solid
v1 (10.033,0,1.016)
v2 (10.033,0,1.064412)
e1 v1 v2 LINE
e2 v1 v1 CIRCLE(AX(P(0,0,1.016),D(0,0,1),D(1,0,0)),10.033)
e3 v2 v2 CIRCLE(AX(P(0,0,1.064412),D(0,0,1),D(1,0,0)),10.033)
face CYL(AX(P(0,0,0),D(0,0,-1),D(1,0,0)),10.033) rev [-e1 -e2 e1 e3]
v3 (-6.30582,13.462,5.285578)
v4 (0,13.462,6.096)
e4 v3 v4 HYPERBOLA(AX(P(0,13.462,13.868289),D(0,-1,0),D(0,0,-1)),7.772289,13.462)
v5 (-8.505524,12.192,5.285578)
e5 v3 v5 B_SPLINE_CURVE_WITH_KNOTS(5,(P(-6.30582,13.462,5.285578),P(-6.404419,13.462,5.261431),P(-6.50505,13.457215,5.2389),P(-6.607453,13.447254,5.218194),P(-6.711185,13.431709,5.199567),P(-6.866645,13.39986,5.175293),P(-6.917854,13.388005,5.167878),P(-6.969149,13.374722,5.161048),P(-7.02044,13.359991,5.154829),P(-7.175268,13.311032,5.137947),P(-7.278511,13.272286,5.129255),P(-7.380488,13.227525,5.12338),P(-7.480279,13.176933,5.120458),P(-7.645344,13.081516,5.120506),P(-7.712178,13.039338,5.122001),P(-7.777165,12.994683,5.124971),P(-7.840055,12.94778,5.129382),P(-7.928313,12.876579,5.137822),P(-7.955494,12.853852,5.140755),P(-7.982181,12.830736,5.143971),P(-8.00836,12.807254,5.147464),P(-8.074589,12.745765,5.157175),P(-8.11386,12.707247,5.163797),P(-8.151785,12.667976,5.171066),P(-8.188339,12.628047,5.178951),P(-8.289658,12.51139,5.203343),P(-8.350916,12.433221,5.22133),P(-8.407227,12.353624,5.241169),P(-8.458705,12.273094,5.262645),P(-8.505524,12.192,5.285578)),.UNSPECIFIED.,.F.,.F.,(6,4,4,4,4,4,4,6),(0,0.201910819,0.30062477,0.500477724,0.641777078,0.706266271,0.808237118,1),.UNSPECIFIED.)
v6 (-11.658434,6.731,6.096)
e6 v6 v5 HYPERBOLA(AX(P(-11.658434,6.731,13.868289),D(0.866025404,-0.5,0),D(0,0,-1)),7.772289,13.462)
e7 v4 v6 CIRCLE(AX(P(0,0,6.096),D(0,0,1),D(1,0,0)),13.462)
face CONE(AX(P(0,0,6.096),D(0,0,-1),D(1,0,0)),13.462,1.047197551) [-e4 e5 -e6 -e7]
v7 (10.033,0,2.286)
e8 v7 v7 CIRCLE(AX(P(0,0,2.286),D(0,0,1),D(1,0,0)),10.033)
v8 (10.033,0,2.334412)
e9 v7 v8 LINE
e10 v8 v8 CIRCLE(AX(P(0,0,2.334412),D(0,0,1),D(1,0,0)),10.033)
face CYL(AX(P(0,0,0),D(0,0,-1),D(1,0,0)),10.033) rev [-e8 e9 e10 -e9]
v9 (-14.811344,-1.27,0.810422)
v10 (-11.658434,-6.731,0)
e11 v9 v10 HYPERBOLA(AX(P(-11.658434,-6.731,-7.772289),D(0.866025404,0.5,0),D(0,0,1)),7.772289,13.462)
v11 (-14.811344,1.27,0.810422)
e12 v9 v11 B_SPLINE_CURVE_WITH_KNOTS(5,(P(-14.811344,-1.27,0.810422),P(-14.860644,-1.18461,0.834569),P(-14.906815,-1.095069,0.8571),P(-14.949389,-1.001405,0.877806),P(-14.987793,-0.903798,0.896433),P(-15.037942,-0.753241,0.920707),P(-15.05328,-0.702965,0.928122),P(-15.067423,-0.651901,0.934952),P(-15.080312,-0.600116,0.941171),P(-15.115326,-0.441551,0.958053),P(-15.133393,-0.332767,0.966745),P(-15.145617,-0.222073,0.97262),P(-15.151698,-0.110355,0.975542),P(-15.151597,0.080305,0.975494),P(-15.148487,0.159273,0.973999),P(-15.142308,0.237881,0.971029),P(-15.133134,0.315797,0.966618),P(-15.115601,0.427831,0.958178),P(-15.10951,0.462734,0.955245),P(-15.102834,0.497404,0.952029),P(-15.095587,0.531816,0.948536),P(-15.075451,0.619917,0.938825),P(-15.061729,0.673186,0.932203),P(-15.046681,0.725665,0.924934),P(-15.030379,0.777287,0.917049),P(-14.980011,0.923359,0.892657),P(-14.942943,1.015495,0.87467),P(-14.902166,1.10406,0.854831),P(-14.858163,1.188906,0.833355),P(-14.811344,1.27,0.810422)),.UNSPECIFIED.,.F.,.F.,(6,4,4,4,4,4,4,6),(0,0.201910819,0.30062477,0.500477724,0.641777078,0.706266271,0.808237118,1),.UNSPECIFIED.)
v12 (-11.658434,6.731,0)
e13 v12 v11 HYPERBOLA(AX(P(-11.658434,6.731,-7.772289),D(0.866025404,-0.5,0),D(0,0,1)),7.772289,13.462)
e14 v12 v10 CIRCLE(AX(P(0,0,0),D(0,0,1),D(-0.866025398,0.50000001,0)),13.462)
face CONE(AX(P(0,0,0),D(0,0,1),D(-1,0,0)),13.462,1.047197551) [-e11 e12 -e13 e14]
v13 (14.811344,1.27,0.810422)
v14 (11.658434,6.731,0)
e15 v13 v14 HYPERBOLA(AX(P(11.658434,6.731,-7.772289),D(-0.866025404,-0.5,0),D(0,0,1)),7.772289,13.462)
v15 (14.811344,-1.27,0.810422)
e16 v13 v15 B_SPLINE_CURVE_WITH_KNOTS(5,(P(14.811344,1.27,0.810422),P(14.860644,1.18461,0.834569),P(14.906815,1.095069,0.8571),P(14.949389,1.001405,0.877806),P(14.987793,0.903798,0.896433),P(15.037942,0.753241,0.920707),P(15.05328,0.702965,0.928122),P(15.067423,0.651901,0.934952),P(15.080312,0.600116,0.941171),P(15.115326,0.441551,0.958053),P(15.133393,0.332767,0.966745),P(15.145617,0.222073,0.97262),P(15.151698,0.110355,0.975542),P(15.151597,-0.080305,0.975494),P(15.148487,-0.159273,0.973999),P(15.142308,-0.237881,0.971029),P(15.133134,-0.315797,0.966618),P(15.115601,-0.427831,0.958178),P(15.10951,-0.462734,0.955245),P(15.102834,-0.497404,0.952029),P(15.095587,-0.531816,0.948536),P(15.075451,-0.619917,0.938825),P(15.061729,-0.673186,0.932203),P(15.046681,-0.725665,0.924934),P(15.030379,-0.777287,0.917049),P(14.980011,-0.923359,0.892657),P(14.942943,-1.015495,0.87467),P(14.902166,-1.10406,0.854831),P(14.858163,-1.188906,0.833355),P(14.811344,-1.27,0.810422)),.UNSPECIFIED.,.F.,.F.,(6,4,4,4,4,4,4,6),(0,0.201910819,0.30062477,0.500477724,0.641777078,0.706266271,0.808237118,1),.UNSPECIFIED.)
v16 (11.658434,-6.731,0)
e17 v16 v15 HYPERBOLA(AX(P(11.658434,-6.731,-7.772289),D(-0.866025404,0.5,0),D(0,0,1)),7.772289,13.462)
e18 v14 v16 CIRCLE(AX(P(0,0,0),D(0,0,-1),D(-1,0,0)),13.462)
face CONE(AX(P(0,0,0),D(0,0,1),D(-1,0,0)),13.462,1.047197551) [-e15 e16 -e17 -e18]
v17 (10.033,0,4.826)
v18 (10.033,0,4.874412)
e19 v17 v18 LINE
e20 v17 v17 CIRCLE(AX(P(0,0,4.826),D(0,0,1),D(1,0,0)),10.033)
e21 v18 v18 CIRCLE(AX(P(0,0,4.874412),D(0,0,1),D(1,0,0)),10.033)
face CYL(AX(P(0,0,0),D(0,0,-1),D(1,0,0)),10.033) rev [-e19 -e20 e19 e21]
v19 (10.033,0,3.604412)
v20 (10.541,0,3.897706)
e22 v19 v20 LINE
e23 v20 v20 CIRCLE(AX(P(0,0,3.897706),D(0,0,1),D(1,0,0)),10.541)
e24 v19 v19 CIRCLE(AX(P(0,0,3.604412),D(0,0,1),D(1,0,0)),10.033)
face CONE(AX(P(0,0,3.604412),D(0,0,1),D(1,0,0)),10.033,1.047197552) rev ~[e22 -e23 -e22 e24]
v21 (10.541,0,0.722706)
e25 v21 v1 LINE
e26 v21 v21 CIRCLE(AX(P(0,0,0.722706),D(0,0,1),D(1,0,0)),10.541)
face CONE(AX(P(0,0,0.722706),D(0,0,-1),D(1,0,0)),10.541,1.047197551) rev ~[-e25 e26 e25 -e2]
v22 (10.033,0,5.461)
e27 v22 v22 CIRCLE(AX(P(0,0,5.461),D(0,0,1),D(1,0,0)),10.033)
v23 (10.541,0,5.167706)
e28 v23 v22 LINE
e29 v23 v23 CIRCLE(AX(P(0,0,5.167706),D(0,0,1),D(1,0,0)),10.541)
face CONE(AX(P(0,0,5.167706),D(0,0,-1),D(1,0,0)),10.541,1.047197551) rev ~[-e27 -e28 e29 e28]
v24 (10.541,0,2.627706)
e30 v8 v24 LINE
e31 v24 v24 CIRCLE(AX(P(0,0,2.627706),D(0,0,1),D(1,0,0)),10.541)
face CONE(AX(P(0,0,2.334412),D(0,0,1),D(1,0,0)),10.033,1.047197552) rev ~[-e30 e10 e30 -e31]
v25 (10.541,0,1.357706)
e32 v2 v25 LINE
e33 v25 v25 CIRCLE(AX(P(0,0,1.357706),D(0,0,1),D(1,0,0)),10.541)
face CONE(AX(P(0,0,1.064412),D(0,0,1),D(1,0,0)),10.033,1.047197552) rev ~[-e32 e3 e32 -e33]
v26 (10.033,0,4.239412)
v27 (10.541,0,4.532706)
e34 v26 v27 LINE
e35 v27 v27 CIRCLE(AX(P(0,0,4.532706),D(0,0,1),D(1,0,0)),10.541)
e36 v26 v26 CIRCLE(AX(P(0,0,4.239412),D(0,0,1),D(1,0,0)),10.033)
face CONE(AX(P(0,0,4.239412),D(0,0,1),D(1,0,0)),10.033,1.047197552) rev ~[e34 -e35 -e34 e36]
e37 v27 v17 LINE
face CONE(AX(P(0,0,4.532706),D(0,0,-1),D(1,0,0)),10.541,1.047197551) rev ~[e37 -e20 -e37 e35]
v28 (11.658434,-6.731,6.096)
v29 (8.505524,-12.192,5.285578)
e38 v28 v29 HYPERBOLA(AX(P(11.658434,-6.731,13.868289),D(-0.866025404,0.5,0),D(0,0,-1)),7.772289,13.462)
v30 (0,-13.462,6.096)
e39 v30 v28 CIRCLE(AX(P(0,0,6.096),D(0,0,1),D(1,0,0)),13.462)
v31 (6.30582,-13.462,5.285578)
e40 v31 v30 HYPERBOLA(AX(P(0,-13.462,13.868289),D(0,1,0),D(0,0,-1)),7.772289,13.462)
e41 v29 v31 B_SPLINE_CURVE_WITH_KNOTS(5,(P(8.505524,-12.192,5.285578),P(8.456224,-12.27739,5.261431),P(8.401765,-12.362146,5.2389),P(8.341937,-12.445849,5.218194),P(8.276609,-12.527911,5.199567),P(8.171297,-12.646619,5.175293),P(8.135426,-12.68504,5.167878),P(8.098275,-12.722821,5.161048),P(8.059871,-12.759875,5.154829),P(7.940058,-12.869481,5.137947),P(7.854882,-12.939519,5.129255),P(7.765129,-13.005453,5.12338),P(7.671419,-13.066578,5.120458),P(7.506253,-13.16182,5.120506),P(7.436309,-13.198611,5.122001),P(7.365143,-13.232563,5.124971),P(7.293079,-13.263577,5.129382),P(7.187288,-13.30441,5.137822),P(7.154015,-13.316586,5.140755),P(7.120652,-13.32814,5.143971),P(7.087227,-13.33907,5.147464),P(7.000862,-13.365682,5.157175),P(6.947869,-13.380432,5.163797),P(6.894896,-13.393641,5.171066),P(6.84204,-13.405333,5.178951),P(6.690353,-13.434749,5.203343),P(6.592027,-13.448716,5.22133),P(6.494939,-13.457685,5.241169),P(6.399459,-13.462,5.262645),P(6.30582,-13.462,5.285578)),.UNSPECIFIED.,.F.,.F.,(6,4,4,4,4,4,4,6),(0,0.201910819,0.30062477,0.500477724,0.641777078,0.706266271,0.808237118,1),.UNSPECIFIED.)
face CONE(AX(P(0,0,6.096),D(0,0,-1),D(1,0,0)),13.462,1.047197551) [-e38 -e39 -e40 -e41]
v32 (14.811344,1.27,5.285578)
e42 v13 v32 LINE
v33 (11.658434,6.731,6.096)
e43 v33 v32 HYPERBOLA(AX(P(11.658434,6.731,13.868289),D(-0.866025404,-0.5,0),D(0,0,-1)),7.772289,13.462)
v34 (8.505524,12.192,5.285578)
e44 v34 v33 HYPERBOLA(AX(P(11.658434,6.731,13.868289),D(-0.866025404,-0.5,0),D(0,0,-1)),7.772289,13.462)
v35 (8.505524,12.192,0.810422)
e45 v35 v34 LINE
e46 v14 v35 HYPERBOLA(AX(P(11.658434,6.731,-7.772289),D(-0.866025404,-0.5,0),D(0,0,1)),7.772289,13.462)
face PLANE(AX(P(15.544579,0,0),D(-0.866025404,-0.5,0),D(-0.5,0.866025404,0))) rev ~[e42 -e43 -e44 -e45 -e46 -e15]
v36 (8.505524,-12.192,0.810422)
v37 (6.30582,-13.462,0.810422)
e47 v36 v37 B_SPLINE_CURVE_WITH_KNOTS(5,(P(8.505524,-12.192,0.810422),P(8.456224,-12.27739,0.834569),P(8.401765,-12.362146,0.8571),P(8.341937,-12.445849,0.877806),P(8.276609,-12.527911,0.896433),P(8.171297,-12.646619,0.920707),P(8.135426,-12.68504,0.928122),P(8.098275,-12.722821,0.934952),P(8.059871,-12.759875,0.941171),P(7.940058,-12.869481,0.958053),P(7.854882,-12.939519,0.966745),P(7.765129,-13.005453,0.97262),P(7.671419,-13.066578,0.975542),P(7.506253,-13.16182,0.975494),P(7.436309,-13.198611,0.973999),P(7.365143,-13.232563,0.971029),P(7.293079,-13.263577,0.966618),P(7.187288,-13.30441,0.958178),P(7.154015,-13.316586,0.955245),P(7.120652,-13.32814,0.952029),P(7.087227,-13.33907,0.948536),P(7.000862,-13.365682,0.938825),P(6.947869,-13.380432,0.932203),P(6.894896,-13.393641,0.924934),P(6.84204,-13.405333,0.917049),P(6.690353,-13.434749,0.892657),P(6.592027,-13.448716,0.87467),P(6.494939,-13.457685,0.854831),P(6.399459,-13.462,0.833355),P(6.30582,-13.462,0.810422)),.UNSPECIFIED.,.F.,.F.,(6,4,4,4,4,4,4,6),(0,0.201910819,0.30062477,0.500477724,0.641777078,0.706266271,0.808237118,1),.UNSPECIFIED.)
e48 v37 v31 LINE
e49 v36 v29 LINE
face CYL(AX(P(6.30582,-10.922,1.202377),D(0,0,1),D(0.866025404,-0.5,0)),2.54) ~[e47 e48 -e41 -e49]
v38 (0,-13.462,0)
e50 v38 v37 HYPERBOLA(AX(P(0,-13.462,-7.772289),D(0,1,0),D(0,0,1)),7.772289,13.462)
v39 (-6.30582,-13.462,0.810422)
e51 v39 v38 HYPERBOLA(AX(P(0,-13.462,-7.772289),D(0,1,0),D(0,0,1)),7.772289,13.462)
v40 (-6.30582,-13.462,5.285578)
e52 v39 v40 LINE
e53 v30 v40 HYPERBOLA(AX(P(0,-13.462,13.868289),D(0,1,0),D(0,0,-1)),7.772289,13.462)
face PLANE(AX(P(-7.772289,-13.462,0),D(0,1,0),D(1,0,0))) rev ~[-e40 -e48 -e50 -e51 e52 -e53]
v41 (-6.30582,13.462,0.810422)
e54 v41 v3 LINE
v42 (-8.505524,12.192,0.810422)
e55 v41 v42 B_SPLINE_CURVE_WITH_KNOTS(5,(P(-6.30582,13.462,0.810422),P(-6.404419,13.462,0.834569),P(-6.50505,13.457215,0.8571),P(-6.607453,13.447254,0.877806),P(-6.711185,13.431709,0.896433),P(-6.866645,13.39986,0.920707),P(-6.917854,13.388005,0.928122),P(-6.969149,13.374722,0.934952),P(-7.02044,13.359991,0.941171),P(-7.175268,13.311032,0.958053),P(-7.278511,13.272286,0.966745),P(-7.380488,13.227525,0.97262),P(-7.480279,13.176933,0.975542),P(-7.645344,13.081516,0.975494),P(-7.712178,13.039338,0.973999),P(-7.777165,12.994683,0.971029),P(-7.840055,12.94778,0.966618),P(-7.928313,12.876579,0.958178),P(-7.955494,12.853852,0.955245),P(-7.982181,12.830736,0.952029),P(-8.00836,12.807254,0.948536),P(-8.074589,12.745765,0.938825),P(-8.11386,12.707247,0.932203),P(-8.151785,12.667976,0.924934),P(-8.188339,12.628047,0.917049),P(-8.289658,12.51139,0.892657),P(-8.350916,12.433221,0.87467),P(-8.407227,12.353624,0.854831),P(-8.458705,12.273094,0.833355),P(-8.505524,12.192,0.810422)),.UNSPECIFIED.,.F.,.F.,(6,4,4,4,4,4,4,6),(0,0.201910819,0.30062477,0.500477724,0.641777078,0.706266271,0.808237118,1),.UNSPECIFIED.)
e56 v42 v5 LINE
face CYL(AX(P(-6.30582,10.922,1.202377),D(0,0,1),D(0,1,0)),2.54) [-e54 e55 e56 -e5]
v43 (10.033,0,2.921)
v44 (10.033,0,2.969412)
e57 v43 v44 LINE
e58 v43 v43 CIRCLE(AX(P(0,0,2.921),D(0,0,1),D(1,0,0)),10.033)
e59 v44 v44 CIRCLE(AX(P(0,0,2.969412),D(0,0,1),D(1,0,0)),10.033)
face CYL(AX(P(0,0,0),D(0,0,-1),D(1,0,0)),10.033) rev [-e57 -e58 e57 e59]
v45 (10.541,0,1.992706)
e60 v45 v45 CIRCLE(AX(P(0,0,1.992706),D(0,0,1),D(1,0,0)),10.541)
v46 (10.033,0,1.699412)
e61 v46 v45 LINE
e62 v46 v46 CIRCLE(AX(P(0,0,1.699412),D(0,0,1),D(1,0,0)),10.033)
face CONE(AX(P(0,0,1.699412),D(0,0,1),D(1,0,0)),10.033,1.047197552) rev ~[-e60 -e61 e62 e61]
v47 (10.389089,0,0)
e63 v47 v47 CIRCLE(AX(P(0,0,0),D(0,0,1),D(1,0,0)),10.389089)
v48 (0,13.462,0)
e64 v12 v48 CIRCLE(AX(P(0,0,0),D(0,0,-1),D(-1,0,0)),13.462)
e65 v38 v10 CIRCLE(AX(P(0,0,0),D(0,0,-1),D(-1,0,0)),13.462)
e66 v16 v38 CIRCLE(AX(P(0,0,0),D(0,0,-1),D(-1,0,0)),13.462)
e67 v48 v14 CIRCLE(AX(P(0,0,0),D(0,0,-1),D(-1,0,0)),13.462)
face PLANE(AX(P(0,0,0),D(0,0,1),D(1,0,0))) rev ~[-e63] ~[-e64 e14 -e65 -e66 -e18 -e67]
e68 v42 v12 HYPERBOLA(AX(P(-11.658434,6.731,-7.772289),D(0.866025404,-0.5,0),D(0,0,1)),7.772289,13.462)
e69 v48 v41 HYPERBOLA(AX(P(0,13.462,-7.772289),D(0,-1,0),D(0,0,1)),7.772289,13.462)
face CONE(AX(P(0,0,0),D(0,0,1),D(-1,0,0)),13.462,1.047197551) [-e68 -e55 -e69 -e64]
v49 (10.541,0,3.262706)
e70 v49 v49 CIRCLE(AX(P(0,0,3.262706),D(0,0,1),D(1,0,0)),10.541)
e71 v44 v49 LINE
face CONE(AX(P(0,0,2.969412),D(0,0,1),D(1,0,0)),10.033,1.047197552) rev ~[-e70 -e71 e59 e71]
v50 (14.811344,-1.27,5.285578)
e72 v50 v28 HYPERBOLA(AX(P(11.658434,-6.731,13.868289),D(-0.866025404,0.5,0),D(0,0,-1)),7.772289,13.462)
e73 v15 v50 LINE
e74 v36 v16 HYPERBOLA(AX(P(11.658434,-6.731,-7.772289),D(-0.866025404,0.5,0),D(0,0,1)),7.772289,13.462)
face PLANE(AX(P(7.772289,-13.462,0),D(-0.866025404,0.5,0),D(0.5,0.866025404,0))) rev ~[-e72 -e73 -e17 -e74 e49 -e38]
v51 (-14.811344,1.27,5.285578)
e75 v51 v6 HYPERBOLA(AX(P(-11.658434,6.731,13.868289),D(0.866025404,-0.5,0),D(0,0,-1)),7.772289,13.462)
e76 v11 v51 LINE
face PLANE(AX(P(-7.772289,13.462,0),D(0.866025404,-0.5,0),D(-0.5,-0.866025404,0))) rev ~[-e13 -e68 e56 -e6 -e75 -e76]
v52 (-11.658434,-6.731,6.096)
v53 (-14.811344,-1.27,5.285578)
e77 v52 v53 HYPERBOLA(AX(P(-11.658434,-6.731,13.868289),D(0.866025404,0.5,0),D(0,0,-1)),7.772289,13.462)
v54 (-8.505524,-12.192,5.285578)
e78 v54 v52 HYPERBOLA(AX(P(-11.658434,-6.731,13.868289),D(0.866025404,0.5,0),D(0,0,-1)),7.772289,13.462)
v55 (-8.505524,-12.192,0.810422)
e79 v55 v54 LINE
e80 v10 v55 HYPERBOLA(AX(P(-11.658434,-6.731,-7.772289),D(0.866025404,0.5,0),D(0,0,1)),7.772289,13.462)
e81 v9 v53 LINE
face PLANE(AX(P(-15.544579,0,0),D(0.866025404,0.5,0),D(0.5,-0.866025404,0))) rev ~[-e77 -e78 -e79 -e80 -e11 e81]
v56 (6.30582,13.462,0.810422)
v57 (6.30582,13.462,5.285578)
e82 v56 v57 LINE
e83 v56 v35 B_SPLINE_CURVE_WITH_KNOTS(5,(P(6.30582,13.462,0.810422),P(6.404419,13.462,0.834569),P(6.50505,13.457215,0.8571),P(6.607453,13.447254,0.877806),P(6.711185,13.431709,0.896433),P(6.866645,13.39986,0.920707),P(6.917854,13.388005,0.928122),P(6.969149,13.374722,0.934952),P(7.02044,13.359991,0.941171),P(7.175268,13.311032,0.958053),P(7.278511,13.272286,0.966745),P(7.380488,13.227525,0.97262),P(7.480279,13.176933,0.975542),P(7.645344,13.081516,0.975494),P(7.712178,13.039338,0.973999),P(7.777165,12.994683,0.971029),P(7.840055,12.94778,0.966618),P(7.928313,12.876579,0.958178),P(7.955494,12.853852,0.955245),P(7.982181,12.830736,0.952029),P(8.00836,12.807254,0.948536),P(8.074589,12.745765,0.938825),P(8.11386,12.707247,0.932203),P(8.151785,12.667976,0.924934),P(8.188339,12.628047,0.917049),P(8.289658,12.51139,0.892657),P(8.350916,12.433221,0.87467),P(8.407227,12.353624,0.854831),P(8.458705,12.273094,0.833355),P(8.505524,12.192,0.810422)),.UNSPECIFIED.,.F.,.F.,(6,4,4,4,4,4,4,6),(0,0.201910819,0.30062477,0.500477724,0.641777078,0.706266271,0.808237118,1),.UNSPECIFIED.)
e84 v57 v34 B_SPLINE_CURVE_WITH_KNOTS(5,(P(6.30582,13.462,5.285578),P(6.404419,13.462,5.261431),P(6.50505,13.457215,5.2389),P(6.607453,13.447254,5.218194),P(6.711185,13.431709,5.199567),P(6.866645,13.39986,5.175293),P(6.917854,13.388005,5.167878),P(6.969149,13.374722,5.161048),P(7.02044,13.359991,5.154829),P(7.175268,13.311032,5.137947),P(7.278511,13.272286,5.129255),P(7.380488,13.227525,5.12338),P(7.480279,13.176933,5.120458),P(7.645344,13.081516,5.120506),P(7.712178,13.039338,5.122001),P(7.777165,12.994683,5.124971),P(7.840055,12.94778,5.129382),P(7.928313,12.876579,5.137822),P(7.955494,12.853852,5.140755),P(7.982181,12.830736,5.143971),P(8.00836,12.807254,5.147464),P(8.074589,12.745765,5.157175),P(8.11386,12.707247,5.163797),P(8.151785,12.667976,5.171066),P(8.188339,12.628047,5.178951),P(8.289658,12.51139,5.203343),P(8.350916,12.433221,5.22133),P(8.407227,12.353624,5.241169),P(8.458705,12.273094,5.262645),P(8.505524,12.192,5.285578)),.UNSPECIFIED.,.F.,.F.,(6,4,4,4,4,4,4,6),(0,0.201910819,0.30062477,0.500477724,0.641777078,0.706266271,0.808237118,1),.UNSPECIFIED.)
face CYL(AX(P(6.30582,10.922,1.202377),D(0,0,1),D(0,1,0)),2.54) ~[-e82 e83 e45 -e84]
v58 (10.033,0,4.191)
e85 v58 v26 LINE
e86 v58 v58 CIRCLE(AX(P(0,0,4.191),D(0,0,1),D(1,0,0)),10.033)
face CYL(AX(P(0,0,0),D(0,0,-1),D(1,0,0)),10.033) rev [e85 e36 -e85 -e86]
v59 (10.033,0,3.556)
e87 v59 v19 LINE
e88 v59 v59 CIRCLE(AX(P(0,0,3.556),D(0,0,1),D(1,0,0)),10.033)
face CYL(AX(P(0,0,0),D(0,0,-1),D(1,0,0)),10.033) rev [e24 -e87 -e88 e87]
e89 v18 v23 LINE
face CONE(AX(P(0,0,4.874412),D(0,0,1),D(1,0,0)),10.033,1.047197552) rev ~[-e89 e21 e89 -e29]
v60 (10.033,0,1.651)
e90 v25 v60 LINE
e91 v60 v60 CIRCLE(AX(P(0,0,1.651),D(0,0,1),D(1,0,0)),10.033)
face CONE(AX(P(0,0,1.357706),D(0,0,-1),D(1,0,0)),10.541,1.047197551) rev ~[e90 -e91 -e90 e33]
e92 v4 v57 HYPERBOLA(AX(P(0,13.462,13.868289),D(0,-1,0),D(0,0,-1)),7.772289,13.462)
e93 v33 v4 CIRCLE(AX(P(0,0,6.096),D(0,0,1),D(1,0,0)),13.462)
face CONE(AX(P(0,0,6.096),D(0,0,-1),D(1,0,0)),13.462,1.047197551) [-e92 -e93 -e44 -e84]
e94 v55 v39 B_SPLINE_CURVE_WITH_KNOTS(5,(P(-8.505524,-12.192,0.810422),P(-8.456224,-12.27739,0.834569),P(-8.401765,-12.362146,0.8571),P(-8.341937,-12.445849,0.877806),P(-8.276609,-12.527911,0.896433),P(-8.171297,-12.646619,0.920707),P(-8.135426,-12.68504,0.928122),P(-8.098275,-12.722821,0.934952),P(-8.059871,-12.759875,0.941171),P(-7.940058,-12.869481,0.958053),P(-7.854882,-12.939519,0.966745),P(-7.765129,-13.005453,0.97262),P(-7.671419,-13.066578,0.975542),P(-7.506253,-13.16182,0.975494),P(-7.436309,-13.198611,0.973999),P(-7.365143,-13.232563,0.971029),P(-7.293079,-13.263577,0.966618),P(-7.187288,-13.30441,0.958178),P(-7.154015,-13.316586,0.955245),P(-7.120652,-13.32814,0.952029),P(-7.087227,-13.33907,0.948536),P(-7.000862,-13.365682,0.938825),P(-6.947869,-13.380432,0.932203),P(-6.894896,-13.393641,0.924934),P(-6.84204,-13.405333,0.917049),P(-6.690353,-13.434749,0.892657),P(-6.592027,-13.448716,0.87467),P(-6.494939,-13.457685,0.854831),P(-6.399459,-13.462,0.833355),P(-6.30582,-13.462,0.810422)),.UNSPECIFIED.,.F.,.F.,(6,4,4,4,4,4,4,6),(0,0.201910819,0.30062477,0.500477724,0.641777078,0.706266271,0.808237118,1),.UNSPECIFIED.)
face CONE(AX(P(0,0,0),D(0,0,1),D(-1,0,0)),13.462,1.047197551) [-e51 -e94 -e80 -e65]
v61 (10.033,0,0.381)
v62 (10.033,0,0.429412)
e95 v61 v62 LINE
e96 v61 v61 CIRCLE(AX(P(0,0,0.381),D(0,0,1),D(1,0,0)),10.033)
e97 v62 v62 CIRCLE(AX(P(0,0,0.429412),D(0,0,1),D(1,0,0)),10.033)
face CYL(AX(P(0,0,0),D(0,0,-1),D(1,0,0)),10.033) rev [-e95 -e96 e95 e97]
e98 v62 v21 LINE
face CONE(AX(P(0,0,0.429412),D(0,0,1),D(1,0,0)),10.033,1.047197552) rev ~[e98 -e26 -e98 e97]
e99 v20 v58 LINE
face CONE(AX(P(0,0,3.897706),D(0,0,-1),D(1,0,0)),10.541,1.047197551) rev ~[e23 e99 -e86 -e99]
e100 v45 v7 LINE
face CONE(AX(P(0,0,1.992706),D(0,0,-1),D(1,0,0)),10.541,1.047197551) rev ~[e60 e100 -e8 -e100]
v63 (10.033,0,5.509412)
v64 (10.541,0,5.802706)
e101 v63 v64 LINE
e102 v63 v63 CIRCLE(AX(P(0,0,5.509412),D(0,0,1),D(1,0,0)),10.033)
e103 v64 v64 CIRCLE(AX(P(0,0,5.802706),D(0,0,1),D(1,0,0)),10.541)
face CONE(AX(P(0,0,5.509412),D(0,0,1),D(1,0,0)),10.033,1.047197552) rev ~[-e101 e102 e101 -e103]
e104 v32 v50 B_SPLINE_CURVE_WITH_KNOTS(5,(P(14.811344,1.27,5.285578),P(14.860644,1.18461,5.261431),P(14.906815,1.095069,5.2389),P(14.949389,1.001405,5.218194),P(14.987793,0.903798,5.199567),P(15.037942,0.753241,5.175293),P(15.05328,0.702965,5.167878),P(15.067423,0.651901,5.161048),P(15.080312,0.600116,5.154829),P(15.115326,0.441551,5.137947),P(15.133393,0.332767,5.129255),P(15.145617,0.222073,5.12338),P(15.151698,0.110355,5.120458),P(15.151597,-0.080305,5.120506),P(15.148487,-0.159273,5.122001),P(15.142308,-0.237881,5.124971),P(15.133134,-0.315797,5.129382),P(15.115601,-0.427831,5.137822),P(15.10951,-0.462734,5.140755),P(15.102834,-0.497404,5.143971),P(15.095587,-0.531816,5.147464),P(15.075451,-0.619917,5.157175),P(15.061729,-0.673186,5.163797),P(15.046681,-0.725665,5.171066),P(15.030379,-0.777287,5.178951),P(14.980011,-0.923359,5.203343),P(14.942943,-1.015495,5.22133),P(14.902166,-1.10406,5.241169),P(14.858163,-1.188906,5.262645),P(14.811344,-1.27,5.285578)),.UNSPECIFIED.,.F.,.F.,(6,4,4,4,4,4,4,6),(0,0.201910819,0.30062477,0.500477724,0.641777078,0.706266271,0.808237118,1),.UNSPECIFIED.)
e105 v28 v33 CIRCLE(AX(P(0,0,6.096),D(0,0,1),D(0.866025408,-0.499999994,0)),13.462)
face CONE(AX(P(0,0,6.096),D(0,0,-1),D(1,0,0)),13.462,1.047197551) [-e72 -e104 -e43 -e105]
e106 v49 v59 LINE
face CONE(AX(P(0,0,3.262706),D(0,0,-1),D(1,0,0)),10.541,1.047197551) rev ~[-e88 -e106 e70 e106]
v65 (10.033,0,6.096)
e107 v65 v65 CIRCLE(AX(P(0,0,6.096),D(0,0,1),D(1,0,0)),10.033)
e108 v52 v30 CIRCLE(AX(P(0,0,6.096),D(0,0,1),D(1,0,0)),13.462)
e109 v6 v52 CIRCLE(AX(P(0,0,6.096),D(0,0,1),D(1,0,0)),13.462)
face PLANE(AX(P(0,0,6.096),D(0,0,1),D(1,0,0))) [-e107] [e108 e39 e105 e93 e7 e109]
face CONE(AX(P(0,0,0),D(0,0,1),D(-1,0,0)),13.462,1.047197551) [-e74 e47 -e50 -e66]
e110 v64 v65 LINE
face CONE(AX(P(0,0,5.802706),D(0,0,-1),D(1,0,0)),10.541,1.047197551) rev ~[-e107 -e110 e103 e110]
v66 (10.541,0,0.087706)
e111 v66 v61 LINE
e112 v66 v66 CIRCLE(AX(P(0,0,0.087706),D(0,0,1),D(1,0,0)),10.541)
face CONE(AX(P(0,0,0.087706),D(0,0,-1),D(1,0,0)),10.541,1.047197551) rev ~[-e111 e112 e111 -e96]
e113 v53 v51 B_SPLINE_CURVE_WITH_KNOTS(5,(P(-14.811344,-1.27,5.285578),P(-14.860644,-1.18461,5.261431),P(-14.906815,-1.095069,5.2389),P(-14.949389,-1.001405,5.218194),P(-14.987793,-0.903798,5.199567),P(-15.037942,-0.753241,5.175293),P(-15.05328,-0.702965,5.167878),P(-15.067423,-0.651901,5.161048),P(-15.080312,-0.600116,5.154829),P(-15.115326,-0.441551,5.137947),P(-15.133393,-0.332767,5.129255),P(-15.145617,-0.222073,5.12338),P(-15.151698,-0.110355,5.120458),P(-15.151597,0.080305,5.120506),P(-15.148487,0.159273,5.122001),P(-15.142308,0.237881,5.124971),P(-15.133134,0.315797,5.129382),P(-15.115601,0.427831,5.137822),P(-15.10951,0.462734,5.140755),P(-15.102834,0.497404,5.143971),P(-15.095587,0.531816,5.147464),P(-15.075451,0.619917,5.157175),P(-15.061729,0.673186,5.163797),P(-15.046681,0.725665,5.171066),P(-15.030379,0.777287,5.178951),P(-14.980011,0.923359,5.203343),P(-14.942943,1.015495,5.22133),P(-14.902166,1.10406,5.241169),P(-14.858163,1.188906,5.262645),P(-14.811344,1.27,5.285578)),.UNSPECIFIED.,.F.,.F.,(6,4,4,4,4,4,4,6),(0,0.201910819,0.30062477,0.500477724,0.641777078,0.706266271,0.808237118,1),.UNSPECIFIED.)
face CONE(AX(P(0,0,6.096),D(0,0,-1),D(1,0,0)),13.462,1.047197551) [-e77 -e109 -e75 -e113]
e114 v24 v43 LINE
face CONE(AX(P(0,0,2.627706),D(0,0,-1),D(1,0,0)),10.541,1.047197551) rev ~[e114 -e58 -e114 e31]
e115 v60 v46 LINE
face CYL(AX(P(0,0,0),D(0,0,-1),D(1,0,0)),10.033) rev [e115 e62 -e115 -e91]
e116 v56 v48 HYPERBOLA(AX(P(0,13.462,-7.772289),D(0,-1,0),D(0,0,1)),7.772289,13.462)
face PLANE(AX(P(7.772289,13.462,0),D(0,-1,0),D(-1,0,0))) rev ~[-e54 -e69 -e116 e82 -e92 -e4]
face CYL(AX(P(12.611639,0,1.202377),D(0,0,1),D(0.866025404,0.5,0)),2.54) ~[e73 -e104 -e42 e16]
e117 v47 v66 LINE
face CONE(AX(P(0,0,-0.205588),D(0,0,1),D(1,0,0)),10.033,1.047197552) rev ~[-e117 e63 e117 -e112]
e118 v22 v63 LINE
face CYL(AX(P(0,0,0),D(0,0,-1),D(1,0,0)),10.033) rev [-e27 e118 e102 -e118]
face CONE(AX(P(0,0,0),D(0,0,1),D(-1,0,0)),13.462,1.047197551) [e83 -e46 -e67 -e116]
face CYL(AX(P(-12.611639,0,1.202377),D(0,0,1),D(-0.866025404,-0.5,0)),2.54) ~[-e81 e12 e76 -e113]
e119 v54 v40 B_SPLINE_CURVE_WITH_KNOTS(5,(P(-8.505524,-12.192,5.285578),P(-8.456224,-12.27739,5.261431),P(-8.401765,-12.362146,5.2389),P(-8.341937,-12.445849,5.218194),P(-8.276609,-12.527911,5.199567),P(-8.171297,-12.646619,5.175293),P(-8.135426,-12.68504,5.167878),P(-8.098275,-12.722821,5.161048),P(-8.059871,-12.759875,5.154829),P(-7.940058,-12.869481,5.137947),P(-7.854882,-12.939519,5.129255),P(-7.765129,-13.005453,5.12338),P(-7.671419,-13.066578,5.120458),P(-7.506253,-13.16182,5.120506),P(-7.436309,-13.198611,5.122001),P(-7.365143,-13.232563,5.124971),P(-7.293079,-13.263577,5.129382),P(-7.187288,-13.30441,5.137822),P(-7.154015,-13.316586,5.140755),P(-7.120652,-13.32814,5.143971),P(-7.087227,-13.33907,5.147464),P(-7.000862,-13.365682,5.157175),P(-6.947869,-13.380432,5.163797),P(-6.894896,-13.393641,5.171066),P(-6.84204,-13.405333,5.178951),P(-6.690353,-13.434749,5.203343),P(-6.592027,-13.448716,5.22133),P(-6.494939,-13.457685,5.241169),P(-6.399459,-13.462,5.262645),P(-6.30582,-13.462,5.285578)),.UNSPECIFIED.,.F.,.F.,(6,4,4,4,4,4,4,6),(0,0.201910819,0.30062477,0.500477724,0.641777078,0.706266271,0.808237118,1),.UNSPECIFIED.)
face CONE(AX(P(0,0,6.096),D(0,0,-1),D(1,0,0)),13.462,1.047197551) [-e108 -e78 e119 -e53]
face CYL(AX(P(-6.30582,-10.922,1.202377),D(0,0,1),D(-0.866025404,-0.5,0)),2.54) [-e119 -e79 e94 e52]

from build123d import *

# Parameters (mm, degrees)
SKETCH1_R          = 10.033
EXTRUDE1_DEPTH     = 6.096
SKETCH2_OUTSIDE_W  = 65.986
SKETCH2_OUTSIDE_H  = 61.82
SKETCH2_OUTSIDE_R  = 13.462
CUT_EXTRUDE1_DEPTH = 7.096
CUT_EXTRUDE1_DRAFT = -60
SKETCH3_OUTSIDE_W  = 65.986
SKETCH3_OUTSIDE_H  = 61.82
SKETCH3_OUTSIDE_R  = 13.462
CUT_EXTRUDE2_DEPTH = 7.096
CUT_EXTRUDE2_DRAFT = -60
FILLET1_R          = 2.54
LPATTERN1_COUNT    = 10
LPATTERN1_PITCH    = 0.635


with BuildPart() as part:
    # Sketch1 → Extrude1 (new body)
    with BuildSketch(Plane.XY):
        Polygon((-15.544578648, 0), (-7.772289324, -13.462), (7.772289324, -13.462), (15.544578648, 0), (7.772289324, 13.462), (-7.772289324, 13.462), align=None)
        Circle(SKETCH1_R, mode=Mode.SUBTRACT)
    extrude(amount=EXTRUDE1_DEPTH)


with BuildPart() as cut_extrude1_tool:
    # Sketch2 outside → Cut-Extrude1 (with draft: the straight prism first)
    with BuildSketch(Plane.XY.offset(6.096)):
        Rectangle(SKETCH2_OUTSIDE_W, SKETCH2_OUTSIDE_H)
        Circle(SKETCH2_OUTSIDE_R, mode=Mode.SUBTRACT)
    extrude(amount=-CUT_EXTRUDE1_DEPTH)
    # Cut-Extrude1: the draft: its side faces are tilted about the plane it starts from
    cut_extrude1_sides = [cut_extrude1_tool.faces().sort_by_distance(p)[0] for p in [
        (0, -30.91, 2.548),
        (32.993, 0, 2.548),
        (0, 30.91, 2.548),
        (-32.993, 0, 2.548),
        (-13.462, 0, 2.548),
    ]]
    draft(cut_extrude1_sides, Plane.XY.offset(6.096), CUT_EXTRUDE1_DRAFT)


with BuildPart() as part_1:
    add(part.part)

    # Cut-Extrude1: cut by cut_extrude1_tool
    add(cut_extrude1_tool.part, mode=Mode.SUBTRACT)


with BuildPart() as cut_extrude2_tool:
    # Sketch3 outside → Cut-Extrude2 (with draft: the straight prism first)
    with BuildSketch(Plane(origin=(0, 0, 0), x_dir=(-1, 0, 0), z_dir=(0, 0, -1))):
        Rectangle(SKETCH3_OUTSIDE_W, SKETCH3_OUTSIDE_H)
        Circle(SKETCH3_OUTSIDE_R, mode=Mode.SUBTRACT)
    extrude(amount=-CUT_EXTRUDE2_DEPTH)
    # Cut-Extrude2: the draft: its side faces are tilted about the plane it starts from
    cut_extrude2_sides = [cut_extrude2_tool.faces().sort_by_distance(p)[0] for p in [
        (0, -30.91, 3.548),
        (-32.993, 0, 3.548),
        (0, 30.91, 3.548),
        (32.993, 0, 3.548),
        (13.462, 0, 3.548),
    ]]
    draft(cut_extrude2_sides, Plane(origin=(0, 0, 0), x_dir=(-1, 0, 0), z_dir=(0, 0, -1)), CUT_EXTRUDE2_DRAFT)


with BuildPart() as part_2:
    add(part_1.part)

    # Cut-Extrude2: cut by cut_extrude2_tool
    add(cut_extrude2_tool.part, mode=Mode.SUBTRACT)

    # Fillet1
    fillet1_edges = [part_2.edges().sort_by_distance(p)[0] for p in [
        (15.544578648, 0, 3.048),
        (7.772289324, -13.462, 3.048),
        (-7.772289324, -13.462, 3.048),
        (-15.544578648, 0, 3.048),
        (-7.772289324, 13.462, 3.048),
        (7.772289324, 13.462, 3.048),
    ]]
    fillet(fillet1_edges, radius=FILLET1_R)

    # Sketch4 → Cut-Revolve1 (revolve, cut)
    with BuildSketch(Plane(origin=(0, 0, 0), x_dir=(1, 0, 0), z_dir=(0, 1, 0)), mode=Mode.PRIVATE) as cut_revolve1_sk:
        Polygon((-10.033, -6.096), (-10.033, -5.509412127), (-10.541, -5.802706063), align=None)
    cut_revolve1 = revolve(cut_revolve1_sk.sketch.rotate(Axis((0, 0, 0), (0, 0, 1)), 180), axis=Axis((0, 0, 0), (0, 0, 1)), mode=Mode.SUBTRACT)  # turned: the seam where the file's is

    # LPattern1: Cut-Revolve1 ×10
    with Locations(*[(0, 0, -i * LPATTERN1_PITCH) for i in range(1, LPATTERN1_COUNT)]):
        add(cut_revolve1, mode=Mode.SUBTRACT)


solid = part_2.part
